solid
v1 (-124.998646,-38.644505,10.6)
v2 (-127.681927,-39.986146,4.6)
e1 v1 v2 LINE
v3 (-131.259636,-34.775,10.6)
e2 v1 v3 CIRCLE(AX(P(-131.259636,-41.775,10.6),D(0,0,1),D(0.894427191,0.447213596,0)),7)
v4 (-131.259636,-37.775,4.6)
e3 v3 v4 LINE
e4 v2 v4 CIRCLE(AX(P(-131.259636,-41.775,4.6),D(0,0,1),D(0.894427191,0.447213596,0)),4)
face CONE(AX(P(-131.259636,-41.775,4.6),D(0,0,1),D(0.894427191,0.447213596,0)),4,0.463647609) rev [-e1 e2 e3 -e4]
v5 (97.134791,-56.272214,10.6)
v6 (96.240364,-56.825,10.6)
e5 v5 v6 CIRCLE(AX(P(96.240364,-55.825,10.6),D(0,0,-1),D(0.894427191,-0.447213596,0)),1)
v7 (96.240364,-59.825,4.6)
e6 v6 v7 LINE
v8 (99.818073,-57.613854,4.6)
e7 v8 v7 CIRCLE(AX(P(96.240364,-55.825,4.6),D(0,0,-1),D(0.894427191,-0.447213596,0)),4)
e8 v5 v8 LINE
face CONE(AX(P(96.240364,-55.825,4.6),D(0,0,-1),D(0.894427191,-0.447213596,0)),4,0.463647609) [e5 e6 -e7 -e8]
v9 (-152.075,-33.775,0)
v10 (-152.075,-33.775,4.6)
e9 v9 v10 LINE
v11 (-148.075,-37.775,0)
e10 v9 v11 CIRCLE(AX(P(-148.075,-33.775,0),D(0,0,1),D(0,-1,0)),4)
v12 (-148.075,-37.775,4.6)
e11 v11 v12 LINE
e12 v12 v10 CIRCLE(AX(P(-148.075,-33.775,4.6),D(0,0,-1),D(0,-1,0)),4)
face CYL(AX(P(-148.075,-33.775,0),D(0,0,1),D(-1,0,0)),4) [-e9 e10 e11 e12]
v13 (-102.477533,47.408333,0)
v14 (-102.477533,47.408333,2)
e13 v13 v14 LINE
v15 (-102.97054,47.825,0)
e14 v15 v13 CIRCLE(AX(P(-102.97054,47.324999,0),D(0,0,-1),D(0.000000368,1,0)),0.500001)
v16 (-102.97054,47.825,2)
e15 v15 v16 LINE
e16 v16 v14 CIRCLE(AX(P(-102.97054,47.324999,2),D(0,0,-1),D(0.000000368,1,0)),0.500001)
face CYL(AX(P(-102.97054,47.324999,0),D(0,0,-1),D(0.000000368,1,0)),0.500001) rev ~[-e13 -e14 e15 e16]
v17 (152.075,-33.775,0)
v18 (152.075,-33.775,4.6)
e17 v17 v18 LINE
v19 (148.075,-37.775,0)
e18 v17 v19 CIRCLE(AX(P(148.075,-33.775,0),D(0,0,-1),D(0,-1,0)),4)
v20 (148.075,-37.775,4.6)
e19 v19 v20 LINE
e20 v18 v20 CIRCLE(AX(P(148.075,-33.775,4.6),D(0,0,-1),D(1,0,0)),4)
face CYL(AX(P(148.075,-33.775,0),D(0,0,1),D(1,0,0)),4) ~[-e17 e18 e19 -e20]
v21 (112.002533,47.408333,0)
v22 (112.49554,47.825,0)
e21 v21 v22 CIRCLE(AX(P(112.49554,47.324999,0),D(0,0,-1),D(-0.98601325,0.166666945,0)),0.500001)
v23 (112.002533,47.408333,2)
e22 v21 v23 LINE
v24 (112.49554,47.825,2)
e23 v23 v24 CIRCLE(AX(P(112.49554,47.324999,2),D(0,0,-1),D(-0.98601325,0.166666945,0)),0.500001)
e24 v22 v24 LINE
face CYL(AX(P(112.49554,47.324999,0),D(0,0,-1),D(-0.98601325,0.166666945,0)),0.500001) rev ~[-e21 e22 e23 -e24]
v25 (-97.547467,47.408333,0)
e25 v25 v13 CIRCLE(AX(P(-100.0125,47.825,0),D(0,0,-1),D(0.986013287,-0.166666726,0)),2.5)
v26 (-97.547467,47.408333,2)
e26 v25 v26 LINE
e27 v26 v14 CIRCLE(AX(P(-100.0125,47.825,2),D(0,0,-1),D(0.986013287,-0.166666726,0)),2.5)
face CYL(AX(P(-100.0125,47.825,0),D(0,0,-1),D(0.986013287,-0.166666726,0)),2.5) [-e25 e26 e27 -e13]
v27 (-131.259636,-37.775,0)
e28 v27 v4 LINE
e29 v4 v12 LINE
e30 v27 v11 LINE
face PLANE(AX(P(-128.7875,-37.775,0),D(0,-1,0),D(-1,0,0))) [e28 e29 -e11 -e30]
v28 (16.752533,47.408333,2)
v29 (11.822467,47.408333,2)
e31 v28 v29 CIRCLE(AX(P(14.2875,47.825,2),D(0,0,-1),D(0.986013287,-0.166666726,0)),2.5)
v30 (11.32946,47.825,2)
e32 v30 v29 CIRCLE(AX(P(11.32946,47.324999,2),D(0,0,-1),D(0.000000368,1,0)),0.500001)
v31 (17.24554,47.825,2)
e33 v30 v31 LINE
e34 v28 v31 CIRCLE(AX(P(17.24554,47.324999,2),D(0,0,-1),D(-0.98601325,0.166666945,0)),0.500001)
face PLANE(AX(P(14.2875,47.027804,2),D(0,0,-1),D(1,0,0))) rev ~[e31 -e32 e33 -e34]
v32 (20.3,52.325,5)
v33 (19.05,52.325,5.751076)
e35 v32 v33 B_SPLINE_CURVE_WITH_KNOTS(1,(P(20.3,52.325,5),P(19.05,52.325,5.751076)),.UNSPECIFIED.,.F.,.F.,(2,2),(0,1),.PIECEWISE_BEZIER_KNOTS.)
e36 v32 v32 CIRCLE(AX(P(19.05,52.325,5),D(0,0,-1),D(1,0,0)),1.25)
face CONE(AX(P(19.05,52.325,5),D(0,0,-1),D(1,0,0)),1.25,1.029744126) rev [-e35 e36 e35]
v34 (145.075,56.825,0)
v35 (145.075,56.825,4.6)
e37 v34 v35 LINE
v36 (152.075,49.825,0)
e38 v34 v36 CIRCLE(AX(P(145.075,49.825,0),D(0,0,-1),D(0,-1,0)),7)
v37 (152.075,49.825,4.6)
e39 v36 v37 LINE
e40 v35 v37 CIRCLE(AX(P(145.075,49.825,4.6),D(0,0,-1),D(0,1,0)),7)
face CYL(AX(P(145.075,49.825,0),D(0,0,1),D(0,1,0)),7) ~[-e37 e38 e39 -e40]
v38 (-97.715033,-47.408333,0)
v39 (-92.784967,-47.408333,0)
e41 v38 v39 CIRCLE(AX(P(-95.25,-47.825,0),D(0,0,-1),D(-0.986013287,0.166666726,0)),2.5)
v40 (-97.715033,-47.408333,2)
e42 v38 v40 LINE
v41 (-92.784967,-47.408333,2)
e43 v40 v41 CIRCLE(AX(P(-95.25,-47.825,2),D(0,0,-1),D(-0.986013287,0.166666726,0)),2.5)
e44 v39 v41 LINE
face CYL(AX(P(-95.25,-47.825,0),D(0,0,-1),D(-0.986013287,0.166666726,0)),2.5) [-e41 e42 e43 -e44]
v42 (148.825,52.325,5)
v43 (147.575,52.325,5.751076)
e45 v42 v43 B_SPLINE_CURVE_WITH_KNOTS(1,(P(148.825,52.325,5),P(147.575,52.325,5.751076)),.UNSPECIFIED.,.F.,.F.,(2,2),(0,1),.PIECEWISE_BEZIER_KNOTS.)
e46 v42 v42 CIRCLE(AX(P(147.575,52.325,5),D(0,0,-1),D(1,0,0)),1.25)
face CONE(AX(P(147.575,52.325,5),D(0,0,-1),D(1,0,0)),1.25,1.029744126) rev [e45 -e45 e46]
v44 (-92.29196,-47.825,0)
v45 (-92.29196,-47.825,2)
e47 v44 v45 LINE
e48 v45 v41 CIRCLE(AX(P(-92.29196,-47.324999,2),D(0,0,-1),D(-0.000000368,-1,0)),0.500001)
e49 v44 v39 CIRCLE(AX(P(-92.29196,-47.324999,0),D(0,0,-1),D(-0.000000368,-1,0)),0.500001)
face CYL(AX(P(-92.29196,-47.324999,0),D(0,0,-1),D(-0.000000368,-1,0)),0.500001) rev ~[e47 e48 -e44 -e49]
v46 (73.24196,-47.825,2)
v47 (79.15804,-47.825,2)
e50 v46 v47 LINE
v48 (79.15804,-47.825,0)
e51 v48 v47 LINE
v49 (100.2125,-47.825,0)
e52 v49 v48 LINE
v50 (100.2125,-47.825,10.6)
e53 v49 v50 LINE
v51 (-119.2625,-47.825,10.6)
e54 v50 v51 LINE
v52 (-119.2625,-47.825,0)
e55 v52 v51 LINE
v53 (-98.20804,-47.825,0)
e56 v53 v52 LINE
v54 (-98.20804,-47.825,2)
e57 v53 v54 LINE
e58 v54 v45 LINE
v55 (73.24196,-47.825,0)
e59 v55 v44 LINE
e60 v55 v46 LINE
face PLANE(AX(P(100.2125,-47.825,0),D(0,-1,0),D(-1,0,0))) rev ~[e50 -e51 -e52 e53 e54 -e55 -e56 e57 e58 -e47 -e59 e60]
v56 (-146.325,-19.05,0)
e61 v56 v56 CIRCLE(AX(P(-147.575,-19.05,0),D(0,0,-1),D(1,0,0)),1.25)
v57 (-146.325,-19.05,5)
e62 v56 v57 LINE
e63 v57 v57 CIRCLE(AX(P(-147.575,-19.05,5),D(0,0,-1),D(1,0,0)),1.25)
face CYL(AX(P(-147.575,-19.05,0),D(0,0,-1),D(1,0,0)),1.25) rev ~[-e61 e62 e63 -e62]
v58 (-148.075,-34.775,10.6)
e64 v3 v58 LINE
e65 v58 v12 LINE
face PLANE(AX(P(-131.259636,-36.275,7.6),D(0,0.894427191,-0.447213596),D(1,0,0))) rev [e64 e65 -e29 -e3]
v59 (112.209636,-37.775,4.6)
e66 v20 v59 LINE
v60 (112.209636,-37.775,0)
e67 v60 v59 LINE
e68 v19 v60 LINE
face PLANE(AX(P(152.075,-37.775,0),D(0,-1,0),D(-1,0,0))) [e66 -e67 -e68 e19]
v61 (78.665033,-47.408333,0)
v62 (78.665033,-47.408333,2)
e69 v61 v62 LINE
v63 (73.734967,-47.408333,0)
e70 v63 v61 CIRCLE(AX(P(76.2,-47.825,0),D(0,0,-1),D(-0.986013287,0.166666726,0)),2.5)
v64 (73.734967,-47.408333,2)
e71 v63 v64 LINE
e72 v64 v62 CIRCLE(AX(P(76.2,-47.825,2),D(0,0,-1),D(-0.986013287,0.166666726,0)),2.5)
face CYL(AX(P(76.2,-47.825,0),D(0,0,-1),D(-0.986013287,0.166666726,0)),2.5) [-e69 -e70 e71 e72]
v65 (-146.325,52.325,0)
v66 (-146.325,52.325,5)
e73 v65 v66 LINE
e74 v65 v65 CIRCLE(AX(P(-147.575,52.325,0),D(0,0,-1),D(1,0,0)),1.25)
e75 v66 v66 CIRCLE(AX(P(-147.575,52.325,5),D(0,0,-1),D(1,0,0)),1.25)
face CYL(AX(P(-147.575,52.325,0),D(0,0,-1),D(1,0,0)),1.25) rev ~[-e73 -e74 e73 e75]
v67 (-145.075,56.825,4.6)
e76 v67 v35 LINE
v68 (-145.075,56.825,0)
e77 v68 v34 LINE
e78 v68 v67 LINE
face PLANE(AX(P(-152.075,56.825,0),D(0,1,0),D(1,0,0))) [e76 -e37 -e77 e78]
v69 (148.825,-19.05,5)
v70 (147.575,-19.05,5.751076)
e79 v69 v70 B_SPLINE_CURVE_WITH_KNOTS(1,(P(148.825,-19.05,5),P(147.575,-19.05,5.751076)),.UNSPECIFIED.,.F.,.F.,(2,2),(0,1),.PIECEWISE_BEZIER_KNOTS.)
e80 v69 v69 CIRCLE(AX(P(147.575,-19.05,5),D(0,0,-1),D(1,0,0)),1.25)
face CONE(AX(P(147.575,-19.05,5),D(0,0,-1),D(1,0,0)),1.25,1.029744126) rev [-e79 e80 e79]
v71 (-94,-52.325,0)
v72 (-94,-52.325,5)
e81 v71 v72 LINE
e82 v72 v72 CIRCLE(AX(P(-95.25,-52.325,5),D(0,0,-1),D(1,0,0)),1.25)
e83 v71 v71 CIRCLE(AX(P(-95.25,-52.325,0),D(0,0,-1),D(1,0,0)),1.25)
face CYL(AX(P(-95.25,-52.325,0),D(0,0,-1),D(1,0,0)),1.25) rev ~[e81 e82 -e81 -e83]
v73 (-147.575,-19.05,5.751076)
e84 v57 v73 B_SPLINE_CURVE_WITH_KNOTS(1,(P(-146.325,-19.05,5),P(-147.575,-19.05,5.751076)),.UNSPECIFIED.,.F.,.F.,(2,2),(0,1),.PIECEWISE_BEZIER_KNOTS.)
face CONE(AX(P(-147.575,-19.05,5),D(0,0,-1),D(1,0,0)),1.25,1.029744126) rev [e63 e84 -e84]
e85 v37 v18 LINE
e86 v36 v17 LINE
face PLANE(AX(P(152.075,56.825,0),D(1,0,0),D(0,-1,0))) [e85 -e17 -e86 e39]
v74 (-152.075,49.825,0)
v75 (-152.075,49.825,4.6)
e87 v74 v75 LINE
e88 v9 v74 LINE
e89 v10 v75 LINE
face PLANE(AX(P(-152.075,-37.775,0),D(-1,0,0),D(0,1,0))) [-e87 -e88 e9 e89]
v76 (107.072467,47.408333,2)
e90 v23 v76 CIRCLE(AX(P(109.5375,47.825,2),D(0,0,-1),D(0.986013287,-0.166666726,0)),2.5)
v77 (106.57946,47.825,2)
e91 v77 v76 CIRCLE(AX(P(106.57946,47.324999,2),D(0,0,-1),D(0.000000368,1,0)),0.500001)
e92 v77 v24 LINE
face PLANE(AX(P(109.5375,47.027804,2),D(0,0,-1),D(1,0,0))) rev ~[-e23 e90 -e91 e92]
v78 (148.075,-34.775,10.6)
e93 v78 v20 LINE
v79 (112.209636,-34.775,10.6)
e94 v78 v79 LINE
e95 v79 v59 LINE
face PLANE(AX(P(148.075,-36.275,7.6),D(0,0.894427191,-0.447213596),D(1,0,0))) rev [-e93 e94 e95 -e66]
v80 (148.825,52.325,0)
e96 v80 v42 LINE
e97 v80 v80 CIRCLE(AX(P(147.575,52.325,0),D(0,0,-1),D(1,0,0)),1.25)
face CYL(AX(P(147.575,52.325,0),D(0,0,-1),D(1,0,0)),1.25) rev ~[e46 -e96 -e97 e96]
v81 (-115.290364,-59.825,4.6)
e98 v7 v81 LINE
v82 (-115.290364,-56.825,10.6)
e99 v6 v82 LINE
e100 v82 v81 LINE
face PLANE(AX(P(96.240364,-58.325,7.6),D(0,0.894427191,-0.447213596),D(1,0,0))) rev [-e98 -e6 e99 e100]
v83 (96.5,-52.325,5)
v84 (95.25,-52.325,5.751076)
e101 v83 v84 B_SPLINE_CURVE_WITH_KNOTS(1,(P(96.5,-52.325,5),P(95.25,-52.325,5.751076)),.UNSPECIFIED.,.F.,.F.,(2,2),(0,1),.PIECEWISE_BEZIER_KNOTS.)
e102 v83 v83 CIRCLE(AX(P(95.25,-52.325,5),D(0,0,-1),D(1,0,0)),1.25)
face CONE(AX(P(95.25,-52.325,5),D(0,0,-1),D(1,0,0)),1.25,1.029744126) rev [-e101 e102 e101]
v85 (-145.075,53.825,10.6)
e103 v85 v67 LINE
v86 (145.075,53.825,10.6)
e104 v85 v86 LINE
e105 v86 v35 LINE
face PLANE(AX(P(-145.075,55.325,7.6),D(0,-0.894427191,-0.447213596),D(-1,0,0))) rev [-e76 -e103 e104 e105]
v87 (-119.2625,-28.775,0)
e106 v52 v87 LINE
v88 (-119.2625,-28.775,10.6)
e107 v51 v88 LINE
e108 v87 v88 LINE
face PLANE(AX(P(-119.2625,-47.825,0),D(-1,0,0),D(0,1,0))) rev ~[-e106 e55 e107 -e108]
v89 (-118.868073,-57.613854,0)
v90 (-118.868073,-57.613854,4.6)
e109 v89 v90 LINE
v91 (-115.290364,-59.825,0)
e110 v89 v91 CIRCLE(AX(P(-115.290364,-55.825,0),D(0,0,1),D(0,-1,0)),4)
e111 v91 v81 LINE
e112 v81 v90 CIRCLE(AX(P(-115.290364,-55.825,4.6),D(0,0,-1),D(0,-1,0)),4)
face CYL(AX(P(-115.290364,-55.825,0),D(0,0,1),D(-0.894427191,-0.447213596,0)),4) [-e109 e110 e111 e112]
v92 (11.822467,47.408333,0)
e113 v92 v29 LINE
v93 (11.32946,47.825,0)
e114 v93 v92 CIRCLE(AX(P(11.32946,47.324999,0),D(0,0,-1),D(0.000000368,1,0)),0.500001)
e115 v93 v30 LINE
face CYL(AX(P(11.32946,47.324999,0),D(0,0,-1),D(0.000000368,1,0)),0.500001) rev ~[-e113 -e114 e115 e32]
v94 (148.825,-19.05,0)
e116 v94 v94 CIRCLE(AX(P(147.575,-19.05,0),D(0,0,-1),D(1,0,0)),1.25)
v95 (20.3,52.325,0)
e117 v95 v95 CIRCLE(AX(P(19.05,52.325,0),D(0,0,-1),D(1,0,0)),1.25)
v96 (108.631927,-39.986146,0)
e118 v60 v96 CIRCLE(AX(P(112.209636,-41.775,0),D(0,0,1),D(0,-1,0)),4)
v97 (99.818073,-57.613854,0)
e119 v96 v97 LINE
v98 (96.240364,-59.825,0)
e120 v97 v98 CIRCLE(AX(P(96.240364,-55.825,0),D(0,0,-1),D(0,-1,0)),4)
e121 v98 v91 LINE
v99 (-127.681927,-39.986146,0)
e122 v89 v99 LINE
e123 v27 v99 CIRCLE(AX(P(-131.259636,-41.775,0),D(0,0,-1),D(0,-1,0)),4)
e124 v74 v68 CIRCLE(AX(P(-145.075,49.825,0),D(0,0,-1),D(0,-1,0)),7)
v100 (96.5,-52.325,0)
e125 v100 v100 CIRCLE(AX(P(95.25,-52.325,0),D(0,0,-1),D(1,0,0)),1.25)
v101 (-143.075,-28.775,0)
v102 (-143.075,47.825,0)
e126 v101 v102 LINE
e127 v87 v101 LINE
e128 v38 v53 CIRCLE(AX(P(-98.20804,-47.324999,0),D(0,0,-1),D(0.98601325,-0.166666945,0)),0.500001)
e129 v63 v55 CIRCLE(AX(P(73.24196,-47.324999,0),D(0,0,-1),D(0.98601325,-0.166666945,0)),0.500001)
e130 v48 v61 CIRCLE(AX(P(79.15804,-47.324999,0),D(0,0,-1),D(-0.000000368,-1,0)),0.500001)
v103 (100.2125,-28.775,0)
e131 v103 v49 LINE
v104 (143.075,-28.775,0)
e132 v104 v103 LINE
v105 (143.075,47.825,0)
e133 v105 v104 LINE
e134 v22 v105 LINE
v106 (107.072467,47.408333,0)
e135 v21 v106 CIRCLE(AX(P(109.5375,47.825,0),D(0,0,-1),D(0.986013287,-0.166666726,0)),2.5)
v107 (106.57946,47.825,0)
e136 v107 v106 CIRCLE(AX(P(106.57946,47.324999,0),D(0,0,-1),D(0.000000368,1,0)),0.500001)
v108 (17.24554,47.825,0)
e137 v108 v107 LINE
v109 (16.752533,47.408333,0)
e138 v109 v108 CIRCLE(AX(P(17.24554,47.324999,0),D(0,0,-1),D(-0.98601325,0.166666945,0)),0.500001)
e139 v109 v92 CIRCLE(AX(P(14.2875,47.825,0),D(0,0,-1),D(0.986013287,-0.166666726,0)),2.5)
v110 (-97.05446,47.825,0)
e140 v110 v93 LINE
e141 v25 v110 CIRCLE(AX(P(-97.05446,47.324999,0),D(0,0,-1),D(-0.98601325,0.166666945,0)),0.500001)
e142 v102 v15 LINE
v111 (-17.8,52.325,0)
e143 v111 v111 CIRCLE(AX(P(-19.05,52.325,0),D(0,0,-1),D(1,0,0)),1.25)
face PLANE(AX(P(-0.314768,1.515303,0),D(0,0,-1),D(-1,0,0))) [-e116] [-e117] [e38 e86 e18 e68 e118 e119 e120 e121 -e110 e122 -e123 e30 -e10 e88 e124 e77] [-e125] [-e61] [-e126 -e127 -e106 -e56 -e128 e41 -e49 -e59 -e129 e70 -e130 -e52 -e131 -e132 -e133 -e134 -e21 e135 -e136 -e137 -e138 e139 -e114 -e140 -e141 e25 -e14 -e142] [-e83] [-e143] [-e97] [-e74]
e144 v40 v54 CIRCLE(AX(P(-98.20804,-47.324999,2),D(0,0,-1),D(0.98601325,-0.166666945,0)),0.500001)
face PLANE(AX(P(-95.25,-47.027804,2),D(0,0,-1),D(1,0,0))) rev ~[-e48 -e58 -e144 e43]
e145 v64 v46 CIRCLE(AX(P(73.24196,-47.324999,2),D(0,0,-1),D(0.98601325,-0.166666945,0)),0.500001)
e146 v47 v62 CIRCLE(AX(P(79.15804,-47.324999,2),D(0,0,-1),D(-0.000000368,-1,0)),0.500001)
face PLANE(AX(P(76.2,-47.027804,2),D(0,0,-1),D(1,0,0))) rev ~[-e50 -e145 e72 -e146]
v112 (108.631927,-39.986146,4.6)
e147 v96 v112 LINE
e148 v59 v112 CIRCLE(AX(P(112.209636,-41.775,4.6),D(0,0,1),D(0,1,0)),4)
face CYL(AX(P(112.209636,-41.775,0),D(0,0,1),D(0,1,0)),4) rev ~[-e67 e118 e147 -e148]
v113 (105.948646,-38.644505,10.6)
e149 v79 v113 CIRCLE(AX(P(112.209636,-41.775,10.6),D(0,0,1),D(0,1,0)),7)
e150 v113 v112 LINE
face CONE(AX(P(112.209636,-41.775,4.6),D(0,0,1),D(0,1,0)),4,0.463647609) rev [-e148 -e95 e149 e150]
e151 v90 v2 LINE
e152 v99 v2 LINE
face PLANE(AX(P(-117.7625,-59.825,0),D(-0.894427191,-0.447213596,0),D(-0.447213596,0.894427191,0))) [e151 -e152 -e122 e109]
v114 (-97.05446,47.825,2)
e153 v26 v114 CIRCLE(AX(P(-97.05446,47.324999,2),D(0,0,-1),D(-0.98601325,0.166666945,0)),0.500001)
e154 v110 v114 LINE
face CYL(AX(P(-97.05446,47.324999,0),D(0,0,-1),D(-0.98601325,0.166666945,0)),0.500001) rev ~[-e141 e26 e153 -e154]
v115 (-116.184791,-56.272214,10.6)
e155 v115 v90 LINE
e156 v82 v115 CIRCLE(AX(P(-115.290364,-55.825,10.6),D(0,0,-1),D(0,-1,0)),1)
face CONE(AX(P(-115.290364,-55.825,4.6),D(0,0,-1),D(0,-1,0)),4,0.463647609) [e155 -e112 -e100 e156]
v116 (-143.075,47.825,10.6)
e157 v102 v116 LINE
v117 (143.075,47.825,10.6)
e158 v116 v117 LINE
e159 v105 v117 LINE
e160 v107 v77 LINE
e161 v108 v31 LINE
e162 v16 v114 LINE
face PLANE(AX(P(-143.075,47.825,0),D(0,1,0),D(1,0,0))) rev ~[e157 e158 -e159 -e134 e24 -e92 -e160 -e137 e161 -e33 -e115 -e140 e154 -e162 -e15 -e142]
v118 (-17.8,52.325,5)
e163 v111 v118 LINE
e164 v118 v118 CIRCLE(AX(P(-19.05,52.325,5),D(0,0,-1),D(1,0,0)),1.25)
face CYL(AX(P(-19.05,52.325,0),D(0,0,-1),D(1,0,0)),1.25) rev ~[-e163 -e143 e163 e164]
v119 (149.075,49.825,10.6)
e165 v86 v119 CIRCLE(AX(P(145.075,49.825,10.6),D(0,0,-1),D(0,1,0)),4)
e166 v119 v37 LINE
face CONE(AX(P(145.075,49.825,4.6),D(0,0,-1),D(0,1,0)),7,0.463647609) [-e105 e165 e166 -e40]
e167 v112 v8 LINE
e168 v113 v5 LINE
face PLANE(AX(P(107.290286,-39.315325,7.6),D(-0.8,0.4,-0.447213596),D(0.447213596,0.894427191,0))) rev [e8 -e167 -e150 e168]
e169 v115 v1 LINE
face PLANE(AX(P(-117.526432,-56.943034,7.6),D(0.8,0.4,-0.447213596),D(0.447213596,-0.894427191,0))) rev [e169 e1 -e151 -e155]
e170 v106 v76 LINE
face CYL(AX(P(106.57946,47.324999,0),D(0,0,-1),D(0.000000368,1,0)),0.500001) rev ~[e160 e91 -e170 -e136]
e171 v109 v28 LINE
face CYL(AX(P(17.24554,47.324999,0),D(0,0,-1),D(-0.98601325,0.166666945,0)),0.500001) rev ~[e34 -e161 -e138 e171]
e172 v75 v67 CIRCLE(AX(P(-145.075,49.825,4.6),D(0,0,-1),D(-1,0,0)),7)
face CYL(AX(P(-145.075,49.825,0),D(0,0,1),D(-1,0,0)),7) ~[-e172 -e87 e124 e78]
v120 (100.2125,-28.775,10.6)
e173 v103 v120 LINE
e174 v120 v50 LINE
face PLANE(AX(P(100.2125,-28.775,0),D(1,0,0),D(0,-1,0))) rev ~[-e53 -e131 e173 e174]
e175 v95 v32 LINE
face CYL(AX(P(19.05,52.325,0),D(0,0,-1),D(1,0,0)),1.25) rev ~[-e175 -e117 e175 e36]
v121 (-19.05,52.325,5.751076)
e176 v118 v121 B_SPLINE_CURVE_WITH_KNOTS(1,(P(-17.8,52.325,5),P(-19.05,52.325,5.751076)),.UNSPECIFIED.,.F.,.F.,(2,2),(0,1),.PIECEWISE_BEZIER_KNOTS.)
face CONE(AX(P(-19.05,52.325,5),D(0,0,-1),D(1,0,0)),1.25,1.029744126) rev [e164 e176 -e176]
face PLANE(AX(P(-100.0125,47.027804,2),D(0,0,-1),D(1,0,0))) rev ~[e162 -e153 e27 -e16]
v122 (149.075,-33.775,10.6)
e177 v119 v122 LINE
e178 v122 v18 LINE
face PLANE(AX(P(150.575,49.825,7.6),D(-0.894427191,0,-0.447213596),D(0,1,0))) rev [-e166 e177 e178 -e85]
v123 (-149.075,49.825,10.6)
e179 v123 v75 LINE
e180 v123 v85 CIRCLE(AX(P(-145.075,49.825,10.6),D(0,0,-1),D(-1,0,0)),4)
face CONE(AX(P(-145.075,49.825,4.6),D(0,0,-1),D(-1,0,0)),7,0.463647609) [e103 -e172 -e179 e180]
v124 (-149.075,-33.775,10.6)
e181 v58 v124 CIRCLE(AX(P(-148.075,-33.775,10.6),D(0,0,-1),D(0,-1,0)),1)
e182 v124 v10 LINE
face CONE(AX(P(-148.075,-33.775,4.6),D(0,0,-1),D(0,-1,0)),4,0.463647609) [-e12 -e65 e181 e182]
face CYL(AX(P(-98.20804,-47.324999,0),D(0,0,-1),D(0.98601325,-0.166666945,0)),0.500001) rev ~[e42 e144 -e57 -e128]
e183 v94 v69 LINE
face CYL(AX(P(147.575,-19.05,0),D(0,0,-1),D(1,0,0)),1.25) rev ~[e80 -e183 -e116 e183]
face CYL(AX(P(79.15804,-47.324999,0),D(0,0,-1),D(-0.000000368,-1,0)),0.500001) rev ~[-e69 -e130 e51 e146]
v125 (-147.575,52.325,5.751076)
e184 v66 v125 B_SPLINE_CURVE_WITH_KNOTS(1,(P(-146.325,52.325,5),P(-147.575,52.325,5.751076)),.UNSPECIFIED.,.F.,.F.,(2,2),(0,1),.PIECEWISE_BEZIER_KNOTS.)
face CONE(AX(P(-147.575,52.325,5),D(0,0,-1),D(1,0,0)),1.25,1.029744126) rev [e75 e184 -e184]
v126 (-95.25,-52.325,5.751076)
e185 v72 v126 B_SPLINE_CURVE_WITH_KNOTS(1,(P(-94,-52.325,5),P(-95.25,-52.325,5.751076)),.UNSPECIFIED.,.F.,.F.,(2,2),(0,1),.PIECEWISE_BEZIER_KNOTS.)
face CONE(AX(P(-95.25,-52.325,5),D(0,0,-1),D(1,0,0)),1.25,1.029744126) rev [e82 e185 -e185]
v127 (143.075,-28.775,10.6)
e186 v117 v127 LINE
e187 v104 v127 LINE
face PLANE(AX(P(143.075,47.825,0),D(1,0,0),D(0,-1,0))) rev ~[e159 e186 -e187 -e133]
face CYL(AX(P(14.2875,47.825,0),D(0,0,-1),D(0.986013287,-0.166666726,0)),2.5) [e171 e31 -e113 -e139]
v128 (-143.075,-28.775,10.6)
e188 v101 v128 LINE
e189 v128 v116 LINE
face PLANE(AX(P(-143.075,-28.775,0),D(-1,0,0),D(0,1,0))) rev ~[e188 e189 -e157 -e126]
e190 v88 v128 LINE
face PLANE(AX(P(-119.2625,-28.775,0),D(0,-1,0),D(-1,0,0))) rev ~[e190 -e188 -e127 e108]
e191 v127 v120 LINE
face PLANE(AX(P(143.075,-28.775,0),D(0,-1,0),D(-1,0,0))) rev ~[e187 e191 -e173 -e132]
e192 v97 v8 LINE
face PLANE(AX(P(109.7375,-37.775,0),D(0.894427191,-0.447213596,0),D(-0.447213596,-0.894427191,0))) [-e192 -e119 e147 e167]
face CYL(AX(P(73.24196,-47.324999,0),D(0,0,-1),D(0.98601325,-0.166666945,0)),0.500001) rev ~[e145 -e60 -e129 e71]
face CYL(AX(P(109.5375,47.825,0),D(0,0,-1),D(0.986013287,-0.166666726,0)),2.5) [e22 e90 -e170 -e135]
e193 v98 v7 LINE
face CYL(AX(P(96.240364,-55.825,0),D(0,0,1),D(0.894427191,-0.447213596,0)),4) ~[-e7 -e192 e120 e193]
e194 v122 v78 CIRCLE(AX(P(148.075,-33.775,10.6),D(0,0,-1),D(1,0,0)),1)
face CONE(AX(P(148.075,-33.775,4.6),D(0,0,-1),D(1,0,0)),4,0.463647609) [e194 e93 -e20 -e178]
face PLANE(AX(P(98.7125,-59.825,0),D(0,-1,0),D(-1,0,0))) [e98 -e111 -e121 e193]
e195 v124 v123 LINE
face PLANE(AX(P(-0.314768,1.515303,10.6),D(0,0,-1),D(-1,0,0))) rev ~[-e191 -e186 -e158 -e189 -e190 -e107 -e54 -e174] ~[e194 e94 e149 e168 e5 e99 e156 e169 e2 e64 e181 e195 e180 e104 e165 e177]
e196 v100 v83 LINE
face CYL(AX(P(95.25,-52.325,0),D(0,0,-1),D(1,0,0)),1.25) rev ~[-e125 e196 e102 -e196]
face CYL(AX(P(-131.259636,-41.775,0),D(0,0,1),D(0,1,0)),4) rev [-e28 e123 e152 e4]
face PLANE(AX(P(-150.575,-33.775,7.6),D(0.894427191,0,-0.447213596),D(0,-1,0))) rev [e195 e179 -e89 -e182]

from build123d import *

# Parameters (mm, degrees)
PAD_DEPTH      = 10.6
PAD005_DEPTH   = 2
FILLET_R       = 4
FILLET014_R    = 7
CHAMFER_SIZE2  = 6
CHAMFER_SIZE   = 3
SKETCH020_R    = 1.25
HOLE007_DEPTH  = 5
HOLE007_TIPS_R = 1.25


with BuildPart() as part:
    # Sketch → Pad (new body)
    with BuildSketch(Plane.XY):
        Polygon((-152.075, 56.825), (152.075, 56.825), (152.075, -37.775), (109.7375, -37.775), (98.7125, -59.825), (-117.7625, -59.825), (-128.7875, -37.775), (-152.075, -37.775), align=None)
        Polygon((-143.075, 47.825), (143.075, 47.825), (143.075, -28.775), (100.2125, -28.775), (100.2125, -47.825), (-119.2625, -47.825), (-119.2625, -28.775), (-143.075, -28.775), align=None, mode=Mode.SUBTRACT)
    extrude(amount=PAD_DEPTH)

    # Sketch011 (on Face17 of Pad) → Pad005 (join)
    with BuildSketch(Plane(origin=(0, 0, 0), x_dir=(1, 0, 0), z_dir=(0, 0, -1))):
        with BuildLine():
            ThreePointArc((16.752533, -47.408333), (14.2875, -45.325), (11.822467, -47.408333))
            ThreePointArc((11.32946, -47.825), (11.652209, -47.706881), (11.822467, -47.408333))
            Line((11.32946, -47.825), (17.24554, -47.825))
            ThreePointArc((16.752533, -47.408333), (16.922791, -47.706881), (17.24554, -47.825))
        make_face()
        with BuildLine():
            ThreePointArc((112.002533, -47.408333), (109.5375, -45.325), (107.072467, -47.408333))
            ThreePointArc((106.57946, -47.825), (106.902209, -47.706881), (107.072467, -47.408333))
            Line((106.57946, -47.825), (112.49554, -47.825))
            ThreePointArc((112.002533, -47.408333), (112.172791, -47.706881), (112.49554, -47.825))
        make_face()
        with BuildLine():
            ThreePointArc((-97.547467, -47.408333), (-100.0125, -45.325), (-102.477533, -47.408333))
            ThreePointArc((-102.97054, -47.825), (-102.647791, -47.706881), (-102.477533, -47.408333))
            Line((-102.97054, -47.825), (-97.05446, -47.825))
            ThreePointArc((-97.547467, -47.408333), (-97.377209, -47.706881), (-97.05446, -47.825))
        make_face()
        with BuildLine():
            ThreePointArc((73.734967, 47.408333), (76.2, 45.325), (78.665033, 47.408333))
            ThreePointArc((79.15804, 47.825), (78.835291, 47.706881), (78.665033, 47.408333))
            Line((73.24196, 47.825), (79.15804, 47.825))
            ThreePointArc((73.734967, 47.408333), (73.564709, 47.706881), (73.24196, 47.825))
        make_face()
        with BuildLine():
            ThreePointArc((-97.715033, 47.408333), (-95.25, 45.325), (-92.784967, 47.408333))
            ThreePointArc((-92.29196, 47.825), (-92.614709, 47.706881), (-92.784967, 47.408333))
            Line((-98.20804, 47.825), (-92.29196, 47.825))
            ThreePointArc((-97.715033, 47.408333), (-97.885291, 47.706881), (-98.20804, 47.825))
        make_face()
    extrude(amount=-PAD005_DEPTH)

    # Fillet
    fillet_edges = [part.edges().sort_by_distance(p)[0] for p in [
        (98.7125, -59.825, 5.3),
        (109.7375, -37.775, 5.3),
        (152.075, -37.775, 5.3),
        (-117.7625, -59.825, 5.3),
        (-152.075, -37.775, 5.3),
        (-128.7875, -37.775, 5.3),
    ]]
    fillet(fillet_edges, radius=FILLET_R)

    # Fillet014
    fillet014_edges = [part.edges().sort_by_distance(p)[0] for p in [
        (152.075, 56.825, 5.3),
        (-152.075, 56.825, 5.3),
    ]]
    fillet(fillet014_edges, radius=FILLET014_R)

    # Chamfer
    chamfer_edges = [part.edges().sort_by_distance(p)[0] for p in [
        (-9.525, -59.825, 10.6),
    ]]
    chamfer_side = part.faces().sort_by_distance((148.817479, 8.025, 10.6))[0]
    chamfer(chamfer_edges, length=CHAMFER_SIZE, length2=CHAMFER_SIZE2, reference=chamfer_side)

    # Sketch020 (on Face4 of Chamfer) → Hole007 (cut)
    with BuildSketch(Plane(origin=(0, 0, 0), x_dir=(1, 0, 0), z_dir=(0, 0, -1))):
        with Locations((95.25, 52.325)):
            Circle(SKETCH020_R)
        with Locations((147.575, 19.05)):
            Circle(SKETCH020_R)
        with Locations((147.575, -52.325)):
            Circle(SKETCH020_R)
        with Locations((19.05, -52.325)):
            Circle(SKETCH020_R)
        with Locations((-19.05, -52.325)):
            Circle(SKETCH020_R)
        with Locations((-147.575, -52.325)):
            Circle(SKETCH020_R)
        with Locations((-147.575, 19.05)):
            Circle(SKETCH020_R)
        with Locations((-95.25, 52.325)):
            Circle(SKETCH020_R)
    extrude(amount=-HOLE007_DEPTH, mode=Mode.SUBTRACT)

    # Hole007 tips → Hole007 tip 1 section 0
    with BuildSketch(Plane(origin=(0, 0, 5), x_dir=(1, 0, 0), z_dir=(0, 0, -1)), mode=Mode.PRIVATE) as hole007_tip_1_s0:
        with Locations((95.25, 52.325)):
            Circle(HOLE007_TIPS_R)
    loft([hole007_tip_1_s0.sketch, Vertex(95.25, -52.325, 5.751076)], mode=Mode.SUBTRACT)

    # Hole007 tips → Hole007 tip 2 section 0
    with BuildSketch(Plane(origin=(0, 0, 5), x_dir=(1, 0, 0), z_dir=(0, 0, -1)), mode=Mode.PRIVATE) as hole007_tip_2_s0:
        with Locations((147.575, 19.05)):
            Circle(HOLE007_TIPS_R)
    loft([hole007_tip_2_s0.sketch, Vertex(147.575, -19.05, 5.751076)], mode=Mode.SUBTRACT)

    # Hole007 tips → Hole007 tip 3 section 0
    with BuildSketch(Plane(origin=(0, 0, 5), x_dir=(1, 0, 0), z_dir=(0, 0, -1)), mode=Mode.PRIVATE) as hole007_tip_3_s0:
        with Locations((147.575, -52.325)):
            Circle(HOLE007_TIPS_R)
    loft([hole007_tip_3_s0.sketch, Vertex(147.575, 52.325, 5.751076)], mode=Mode.SUBTRACT)

    # Hole007 tips → Hole007 tip 4 section 0
    with BuildSketch(Plane(origin=(0, 0, 5), x_dir=(1, 0, 0), z_dir=(0, 0, -1)), mode=Mode.PRIVATE) as hole007_tip_4_s0:
        with Locations((19.05, -52.325)):
            Circle(HOLE007_TIPS_R)
    loft([hole007_tip_4_s0.sketch, Vertex(19.05, 52.325, 5.751076)], mode=Mode.SUBTRACT)

    # Hole007 tips → Hole007 tip 5 section 0
    with BuildSketch(Plane(origin=(0, 0, 5), x_dir=(1, 0, 0), z_dir=(0, 0, -1)), mode=Mode.PRIVATE) as hole007_tip_5_s0:
        with Locations((-19.05, -52.325)):
            Circle(HOLE007_TIPS_R)
    loft([hole007_tip_5_s0.sketch, Vertex(-19.05, 52.325, 5.751076)], mode=Mode.SUBTRACT)

    # Hole007 tips → Hole007 tip 6 section 0
    with BuildSketch(Plane(origin=(0, 0, 5), x_dir=(1, 0, 0), z_dir=(0, 0, -1)), mode=Mode.PRIVATE) as hole007_tip_6_s0:
        with Locations((-147.575, -52.325)):
            Circle(HOLE007_TIPS_R)
    loft([hole007_tip_6_s0.sketch, Vertex(-147.575, 52.325, 5.751076)], mode=Mode.SUBTRACT)

    # Hole007 tips → Hole007 tip 7 section 0
    with BuildSketch(Plane(origin=(0, 0, 5), x_dir=(1, 0, 0), z_dir=(0, 0, -1)), mode=Mode.PRIVATE) as hole007_tip_7_s0:
        with Locations((-147.575, 19.05)):
            Circle(HOLE007_TIPS_R)
    loft([hole007_tip_7_s0.sketch, Vertex(-147.575, -19.05, 5.751076)], mode=Mode.SUBTRACT)

    # Hole007 tips → Hole007 tip 8 section 0
    with BuildSketch(Plane(origin=(0, 0, 5), x_dir=(1, 0, 0), z_dir=(0, 0, -1)), mode=Mode.PRIVATE) as hole007_tip_8_s0:
        with Locations((-95.25, 52.325)):
            Circle(HOLE007_TIPS_R)
    loft([hole007_tip_8_s0.sketch, Vertex(-95.25, -52.325, 5.751076)], mode=Mode.SUBTRACT)


solid = part.part
